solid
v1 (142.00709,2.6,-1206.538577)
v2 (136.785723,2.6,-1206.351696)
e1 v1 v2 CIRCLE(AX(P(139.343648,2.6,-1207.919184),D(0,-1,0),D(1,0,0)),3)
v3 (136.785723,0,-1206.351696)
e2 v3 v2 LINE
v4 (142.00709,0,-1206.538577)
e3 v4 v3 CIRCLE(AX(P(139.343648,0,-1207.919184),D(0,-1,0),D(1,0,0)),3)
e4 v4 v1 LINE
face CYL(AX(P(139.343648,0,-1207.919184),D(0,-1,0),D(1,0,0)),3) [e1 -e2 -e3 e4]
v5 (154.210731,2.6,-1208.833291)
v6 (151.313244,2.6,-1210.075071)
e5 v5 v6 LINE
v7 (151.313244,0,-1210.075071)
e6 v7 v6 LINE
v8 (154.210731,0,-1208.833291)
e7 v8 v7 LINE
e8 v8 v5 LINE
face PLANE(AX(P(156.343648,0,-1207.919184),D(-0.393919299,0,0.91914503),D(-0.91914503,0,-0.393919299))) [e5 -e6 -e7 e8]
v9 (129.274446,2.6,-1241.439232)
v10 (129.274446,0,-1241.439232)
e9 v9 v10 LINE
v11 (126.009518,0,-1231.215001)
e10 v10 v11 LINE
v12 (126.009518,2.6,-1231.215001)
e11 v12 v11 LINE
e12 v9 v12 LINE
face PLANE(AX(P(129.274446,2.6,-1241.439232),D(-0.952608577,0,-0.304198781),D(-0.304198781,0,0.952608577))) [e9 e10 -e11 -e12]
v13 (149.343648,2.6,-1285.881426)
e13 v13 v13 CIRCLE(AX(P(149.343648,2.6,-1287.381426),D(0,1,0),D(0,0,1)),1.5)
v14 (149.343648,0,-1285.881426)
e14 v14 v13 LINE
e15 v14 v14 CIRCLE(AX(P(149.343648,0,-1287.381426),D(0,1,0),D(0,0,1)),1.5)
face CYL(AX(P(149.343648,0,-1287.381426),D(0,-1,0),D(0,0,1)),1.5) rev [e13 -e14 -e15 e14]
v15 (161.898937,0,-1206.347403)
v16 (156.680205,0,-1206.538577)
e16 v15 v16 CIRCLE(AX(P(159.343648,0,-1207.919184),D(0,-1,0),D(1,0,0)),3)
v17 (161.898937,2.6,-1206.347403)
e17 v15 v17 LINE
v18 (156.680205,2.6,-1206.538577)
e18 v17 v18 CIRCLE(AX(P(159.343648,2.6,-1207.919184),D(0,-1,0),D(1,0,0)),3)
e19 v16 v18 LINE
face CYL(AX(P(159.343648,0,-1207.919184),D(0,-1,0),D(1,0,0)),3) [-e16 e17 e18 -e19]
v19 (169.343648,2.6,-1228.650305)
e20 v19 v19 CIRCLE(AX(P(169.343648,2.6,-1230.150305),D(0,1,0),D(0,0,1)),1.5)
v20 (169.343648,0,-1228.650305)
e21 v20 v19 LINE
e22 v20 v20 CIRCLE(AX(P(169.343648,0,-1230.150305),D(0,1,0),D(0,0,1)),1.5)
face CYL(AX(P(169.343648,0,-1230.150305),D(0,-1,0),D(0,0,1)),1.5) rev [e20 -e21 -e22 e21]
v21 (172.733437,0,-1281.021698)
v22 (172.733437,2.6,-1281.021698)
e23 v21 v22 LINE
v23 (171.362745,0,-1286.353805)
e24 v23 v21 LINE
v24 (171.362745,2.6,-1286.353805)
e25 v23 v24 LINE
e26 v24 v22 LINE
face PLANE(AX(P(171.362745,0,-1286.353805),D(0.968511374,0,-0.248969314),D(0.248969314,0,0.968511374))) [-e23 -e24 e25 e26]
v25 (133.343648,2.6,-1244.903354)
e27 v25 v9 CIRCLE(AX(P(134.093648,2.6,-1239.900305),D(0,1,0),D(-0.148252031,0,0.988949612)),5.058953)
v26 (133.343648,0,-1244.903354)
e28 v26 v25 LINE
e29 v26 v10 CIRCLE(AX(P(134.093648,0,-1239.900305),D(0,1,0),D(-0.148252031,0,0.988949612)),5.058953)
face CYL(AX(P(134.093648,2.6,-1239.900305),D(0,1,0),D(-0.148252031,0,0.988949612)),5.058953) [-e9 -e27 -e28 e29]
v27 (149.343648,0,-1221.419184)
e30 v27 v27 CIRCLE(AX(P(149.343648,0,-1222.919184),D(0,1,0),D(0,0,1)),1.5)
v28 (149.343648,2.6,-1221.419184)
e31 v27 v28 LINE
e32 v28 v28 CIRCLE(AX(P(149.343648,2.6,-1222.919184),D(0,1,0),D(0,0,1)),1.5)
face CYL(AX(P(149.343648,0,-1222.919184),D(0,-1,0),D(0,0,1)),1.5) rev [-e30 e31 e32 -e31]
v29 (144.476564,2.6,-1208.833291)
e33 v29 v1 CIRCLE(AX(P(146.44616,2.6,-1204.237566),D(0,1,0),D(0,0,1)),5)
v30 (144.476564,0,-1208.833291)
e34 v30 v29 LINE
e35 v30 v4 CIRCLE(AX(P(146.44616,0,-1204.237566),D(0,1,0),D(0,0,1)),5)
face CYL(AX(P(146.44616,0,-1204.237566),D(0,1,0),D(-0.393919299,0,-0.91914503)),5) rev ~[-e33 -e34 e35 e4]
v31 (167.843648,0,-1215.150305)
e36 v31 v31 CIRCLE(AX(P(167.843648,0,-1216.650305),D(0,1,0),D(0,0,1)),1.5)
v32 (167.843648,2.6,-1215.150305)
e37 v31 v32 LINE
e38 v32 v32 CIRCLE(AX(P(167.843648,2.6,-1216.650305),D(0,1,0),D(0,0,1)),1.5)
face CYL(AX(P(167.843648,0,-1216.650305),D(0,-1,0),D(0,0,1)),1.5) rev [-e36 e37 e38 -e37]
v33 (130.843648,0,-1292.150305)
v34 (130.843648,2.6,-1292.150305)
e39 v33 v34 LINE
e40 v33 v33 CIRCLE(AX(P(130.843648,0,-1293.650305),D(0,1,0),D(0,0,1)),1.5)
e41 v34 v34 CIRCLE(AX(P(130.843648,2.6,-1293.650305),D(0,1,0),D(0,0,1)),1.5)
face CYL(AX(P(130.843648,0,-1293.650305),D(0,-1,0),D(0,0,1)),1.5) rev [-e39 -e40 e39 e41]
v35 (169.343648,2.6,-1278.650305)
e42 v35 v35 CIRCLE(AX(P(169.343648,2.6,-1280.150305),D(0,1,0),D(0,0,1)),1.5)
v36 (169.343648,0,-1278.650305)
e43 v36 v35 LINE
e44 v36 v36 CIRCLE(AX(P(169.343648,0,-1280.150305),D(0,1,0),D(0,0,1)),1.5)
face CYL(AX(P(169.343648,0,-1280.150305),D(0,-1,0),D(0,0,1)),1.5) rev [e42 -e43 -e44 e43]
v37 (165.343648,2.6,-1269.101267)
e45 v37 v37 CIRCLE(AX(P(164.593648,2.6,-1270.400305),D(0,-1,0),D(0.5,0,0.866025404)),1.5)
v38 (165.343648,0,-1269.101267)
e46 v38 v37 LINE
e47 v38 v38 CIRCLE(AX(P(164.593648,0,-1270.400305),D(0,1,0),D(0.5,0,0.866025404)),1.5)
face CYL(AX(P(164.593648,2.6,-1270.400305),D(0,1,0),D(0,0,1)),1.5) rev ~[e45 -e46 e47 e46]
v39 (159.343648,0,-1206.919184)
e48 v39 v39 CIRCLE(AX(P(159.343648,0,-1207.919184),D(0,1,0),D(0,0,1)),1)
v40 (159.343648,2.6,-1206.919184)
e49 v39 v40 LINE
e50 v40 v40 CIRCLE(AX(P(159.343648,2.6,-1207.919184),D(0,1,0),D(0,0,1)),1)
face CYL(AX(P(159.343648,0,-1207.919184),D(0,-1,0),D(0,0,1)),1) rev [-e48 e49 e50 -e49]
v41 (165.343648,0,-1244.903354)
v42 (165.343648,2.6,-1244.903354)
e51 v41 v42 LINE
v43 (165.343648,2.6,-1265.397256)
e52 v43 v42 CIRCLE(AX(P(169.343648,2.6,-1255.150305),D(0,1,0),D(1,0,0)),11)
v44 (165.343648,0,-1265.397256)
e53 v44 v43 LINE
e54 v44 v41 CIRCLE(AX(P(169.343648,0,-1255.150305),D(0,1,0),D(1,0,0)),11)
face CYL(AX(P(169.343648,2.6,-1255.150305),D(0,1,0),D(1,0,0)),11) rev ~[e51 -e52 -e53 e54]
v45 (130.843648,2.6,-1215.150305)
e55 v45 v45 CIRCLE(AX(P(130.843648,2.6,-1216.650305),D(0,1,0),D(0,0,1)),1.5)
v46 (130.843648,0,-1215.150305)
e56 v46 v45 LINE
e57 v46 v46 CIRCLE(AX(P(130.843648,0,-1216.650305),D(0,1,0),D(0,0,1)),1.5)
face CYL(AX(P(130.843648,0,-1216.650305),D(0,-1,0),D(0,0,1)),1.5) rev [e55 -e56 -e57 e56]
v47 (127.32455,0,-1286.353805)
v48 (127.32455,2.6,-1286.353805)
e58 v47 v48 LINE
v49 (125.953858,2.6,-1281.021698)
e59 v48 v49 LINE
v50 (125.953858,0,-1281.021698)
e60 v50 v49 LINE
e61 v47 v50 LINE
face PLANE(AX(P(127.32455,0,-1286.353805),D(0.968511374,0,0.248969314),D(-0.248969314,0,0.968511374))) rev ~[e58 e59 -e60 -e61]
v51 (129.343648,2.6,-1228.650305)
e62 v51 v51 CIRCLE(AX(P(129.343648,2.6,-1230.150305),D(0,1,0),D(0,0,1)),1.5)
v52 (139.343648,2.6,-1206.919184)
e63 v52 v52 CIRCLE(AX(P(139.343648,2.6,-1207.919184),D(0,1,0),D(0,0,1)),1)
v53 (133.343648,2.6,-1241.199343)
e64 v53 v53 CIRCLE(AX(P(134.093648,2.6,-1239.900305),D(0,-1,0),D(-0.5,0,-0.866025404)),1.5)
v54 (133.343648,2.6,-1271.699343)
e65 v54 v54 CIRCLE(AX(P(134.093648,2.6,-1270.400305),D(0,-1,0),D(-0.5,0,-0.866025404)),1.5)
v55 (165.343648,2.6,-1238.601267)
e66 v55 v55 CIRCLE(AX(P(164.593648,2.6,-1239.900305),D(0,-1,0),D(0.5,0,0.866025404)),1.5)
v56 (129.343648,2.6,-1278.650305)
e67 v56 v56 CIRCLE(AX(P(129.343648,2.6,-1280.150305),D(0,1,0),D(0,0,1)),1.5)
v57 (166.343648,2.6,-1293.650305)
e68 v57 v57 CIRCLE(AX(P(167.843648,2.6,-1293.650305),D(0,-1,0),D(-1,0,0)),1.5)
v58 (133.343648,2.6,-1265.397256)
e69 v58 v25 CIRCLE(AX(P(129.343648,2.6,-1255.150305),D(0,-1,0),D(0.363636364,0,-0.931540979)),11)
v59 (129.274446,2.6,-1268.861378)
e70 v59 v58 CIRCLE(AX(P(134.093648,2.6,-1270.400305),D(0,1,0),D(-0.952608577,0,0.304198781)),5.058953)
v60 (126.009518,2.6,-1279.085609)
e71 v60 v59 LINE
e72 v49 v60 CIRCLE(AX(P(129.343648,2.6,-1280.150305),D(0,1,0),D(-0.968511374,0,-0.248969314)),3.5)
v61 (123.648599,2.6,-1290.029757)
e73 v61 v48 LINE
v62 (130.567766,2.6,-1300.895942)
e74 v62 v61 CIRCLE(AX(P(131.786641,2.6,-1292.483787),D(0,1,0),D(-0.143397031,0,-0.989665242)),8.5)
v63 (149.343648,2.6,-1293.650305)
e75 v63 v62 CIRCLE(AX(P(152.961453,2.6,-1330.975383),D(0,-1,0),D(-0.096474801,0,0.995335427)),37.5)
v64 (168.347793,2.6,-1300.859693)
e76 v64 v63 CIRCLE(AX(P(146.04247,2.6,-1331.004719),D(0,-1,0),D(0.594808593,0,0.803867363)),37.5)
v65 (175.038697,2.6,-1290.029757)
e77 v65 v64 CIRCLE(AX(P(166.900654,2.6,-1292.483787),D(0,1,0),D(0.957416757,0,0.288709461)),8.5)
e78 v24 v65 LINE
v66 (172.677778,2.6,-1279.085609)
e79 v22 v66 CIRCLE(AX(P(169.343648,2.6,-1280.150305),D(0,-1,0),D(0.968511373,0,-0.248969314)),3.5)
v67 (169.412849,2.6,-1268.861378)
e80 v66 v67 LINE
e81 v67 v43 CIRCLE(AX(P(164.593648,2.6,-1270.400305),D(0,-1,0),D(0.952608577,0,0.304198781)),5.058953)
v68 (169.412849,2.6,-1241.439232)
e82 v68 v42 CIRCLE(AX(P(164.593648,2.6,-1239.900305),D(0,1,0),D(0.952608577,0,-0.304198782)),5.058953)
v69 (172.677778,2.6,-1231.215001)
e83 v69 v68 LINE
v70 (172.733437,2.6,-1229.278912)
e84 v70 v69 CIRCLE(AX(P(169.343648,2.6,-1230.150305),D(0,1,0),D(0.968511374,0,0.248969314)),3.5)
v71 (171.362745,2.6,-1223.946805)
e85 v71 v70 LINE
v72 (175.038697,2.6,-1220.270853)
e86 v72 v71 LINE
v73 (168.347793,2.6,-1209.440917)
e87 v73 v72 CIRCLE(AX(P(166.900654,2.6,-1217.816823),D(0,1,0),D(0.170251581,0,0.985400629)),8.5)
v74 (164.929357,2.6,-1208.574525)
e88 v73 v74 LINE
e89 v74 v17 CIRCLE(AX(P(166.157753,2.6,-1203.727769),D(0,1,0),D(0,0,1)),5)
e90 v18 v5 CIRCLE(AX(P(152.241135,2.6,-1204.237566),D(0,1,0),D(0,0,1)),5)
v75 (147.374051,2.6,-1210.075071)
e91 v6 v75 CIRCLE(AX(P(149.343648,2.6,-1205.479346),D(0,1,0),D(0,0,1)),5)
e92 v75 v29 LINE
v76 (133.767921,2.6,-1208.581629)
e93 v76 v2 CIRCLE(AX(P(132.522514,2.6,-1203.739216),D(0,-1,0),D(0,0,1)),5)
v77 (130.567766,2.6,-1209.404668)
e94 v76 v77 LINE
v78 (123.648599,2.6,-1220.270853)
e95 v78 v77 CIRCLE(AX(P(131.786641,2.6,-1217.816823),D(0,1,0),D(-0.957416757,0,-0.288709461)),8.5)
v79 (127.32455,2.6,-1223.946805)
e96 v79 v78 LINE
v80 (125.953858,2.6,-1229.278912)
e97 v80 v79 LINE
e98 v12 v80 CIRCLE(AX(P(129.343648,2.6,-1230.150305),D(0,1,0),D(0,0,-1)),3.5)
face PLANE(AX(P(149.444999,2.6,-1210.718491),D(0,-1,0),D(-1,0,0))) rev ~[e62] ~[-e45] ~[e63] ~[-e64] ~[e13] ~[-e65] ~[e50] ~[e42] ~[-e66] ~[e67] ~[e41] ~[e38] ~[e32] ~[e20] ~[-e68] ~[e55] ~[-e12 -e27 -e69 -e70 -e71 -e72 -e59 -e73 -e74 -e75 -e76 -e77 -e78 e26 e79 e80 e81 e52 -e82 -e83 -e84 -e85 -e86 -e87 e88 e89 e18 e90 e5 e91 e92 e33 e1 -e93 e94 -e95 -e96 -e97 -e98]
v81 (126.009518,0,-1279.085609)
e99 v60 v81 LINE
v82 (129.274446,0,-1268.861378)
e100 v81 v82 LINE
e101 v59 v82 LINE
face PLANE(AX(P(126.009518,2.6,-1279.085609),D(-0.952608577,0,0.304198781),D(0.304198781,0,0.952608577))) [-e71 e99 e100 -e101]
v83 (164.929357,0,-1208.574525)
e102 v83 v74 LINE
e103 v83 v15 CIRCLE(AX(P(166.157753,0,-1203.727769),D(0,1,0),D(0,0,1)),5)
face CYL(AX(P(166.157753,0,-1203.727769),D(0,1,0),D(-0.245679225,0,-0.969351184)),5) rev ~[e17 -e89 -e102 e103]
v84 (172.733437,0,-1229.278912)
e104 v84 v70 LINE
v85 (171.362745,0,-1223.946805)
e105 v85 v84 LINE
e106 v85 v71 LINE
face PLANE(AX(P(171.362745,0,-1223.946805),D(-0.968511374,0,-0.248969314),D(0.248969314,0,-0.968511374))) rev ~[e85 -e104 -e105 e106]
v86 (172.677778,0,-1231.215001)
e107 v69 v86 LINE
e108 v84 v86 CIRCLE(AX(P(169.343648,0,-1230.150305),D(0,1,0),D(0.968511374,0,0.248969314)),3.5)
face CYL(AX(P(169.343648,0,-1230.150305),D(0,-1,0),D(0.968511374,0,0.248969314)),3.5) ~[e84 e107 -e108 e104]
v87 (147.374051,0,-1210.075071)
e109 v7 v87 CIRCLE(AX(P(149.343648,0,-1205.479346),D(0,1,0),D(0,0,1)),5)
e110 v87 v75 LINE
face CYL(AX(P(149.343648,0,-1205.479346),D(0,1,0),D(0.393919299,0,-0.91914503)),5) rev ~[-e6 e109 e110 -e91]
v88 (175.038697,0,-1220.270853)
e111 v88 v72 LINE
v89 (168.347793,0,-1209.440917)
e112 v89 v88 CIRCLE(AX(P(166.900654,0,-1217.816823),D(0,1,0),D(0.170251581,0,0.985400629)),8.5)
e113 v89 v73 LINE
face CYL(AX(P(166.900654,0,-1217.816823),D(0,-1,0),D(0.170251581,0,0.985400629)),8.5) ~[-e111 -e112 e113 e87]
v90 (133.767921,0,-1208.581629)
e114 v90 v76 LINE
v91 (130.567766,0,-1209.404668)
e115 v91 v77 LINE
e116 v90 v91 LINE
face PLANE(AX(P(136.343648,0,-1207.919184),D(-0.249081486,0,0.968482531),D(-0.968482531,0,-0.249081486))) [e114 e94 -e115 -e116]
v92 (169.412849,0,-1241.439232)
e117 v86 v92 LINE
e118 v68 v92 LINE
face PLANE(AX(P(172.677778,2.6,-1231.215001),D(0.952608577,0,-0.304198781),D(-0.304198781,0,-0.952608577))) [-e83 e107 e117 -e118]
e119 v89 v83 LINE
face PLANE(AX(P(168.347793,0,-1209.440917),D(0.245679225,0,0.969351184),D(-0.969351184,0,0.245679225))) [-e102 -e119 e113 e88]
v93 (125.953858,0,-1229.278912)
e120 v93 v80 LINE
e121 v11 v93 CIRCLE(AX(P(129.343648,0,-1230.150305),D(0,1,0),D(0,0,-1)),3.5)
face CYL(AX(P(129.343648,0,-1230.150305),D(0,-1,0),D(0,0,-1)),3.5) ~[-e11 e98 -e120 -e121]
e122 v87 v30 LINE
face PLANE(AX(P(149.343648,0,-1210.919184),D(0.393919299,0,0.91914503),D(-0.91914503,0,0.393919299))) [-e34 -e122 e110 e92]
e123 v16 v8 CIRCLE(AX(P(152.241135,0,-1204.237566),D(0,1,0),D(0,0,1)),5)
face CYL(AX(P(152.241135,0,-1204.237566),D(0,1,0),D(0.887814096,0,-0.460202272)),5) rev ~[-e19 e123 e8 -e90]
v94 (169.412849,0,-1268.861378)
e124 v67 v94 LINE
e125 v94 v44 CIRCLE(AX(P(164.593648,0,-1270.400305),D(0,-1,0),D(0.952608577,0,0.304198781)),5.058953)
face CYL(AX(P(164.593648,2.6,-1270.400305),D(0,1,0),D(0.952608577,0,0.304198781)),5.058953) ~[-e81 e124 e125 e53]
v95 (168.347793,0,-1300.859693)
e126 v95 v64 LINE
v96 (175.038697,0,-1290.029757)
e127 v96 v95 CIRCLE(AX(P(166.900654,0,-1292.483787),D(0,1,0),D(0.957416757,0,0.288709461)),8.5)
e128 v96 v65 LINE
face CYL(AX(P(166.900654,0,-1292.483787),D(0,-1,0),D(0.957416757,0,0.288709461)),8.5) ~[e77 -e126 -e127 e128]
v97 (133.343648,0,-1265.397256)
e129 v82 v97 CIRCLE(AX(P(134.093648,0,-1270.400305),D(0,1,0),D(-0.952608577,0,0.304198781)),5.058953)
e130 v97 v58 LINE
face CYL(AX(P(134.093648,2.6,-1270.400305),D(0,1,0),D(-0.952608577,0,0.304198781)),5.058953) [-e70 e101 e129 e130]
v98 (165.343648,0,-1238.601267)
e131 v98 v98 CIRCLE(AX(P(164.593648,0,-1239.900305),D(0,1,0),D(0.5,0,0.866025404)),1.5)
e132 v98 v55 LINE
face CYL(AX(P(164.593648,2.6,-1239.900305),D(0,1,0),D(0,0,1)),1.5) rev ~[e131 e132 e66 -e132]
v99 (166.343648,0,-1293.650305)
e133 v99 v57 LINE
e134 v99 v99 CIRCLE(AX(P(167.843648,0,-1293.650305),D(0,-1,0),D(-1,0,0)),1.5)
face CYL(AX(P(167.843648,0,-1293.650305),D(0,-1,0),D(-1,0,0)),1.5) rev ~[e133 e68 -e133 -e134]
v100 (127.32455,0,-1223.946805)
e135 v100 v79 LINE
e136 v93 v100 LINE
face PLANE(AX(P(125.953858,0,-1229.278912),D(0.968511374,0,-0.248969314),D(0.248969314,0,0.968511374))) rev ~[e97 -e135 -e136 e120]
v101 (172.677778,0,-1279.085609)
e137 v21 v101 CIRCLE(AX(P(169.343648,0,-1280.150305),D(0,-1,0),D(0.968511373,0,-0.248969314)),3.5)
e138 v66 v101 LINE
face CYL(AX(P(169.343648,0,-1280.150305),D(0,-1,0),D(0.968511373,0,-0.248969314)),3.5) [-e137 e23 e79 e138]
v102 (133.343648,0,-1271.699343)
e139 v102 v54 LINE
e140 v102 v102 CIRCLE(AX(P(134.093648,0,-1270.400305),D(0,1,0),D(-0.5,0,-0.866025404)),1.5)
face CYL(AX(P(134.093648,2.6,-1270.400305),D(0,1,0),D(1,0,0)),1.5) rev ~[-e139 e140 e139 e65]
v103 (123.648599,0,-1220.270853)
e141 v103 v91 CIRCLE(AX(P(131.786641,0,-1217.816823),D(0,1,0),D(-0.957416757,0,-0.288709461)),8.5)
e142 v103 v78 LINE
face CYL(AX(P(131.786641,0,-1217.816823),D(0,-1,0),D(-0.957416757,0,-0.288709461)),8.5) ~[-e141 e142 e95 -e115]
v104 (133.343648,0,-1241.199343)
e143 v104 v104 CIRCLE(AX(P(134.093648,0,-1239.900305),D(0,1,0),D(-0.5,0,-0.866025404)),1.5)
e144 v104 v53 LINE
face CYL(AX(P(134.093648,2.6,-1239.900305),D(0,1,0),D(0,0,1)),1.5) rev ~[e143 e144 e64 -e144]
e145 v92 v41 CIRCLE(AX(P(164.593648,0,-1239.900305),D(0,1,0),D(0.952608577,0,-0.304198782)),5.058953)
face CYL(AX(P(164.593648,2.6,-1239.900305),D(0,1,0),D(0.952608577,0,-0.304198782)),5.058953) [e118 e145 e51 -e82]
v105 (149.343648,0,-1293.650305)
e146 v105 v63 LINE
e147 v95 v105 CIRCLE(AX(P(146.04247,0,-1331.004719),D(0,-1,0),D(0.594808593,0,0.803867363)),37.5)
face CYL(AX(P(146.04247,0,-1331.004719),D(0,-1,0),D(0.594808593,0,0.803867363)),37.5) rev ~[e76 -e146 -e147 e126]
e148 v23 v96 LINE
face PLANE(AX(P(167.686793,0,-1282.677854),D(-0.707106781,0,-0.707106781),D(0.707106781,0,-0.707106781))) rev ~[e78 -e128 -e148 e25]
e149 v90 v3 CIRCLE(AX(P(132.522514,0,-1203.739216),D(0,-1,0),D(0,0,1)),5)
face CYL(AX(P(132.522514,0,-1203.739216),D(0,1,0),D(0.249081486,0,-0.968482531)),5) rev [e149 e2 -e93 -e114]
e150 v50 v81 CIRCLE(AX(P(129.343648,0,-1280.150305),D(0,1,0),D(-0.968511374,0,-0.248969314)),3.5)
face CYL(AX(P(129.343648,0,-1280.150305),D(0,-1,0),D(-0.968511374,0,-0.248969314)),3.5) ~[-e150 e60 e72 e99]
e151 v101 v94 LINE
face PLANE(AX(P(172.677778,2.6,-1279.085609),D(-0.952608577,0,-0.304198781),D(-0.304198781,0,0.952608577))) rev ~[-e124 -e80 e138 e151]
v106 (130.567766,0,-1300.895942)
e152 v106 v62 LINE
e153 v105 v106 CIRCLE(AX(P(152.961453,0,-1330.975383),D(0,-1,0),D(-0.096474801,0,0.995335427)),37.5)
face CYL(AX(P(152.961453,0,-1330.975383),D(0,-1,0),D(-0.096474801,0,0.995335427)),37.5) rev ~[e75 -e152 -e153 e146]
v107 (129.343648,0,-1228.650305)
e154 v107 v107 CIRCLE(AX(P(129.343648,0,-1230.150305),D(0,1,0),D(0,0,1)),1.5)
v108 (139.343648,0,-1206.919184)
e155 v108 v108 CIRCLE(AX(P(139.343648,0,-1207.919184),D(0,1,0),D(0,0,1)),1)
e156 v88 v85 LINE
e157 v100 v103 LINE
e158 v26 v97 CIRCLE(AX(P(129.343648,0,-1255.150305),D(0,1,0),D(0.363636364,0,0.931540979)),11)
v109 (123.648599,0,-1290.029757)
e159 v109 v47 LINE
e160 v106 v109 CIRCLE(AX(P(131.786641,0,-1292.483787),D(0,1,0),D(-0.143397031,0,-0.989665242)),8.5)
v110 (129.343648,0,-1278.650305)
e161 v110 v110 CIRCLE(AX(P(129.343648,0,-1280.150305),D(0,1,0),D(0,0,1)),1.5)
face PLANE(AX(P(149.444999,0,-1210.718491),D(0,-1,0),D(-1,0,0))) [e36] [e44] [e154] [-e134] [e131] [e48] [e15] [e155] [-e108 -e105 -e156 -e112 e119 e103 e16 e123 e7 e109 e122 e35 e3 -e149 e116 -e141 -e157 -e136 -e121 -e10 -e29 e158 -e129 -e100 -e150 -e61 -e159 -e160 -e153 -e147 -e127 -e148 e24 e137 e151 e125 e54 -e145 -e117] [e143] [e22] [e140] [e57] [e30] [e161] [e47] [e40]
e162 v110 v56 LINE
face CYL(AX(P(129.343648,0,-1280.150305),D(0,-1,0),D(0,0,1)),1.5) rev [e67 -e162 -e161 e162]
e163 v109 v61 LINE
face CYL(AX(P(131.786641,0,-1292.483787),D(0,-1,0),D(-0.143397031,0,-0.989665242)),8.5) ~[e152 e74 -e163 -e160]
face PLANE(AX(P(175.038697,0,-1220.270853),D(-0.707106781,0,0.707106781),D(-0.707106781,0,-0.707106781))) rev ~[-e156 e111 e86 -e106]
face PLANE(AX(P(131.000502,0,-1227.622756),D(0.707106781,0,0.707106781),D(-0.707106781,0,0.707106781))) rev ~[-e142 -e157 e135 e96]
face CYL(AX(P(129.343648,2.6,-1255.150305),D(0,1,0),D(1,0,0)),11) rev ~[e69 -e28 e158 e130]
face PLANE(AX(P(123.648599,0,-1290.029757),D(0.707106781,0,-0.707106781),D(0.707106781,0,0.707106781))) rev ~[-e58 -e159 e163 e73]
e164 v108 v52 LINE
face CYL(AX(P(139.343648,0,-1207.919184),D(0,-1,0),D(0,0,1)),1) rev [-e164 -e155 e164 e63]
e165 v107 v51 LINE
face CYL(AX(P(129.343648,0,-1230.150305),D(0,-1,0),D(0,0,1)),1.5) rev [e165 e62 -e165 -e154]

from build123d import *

# Parameters (mm, degrees)
SKETCH1_R           = 1.5
BOSS_EXTRUDE1_DEPTH = 2.6
BOSS_EXTRUDE2_START = -2.6
SKETCH2_R           = 1.5
BOSS_EXTRUDE2_DEPTH = 2.6
SKETCH3_R           = 1.5
SKETCH3_R_2         = 11
CUT_EXTRUDE2_DEPTH  = 2.6
SKETCH4_R           = 1.5
BOSS_EXTRUDE3_DEPTH = 2.6
BOSS_EXTRUDE5_START = -2.6
SKETCH5_R           = 1
BOSS_EXTRUDE5_DEPTH = 2.6
FILLET1_R           = 5


with BuildPart() as part:
    # Sketch1 → Boss-Extrude1 (new body)
    with BuildSketch(Plane(origin=(0, 0, 0), x_dir=(1, 0, 0), z_dir=(0, 1, 0))):
        with BuildLine():
            ThreePointArc((168.347792712, 1300.859692621), (159.343486253, 1295.942873675), (149.343647654, 1293.65030495))
            ThreePointArc((149.343647654, 1293.65030495), (139.460555114, 1295.990018463), (130.567766275, 1300.895941835))
            ThreePointArc((130.567766275, 1300.895941835), (124.616810573, 1297.0492589), (123.648598599, 1290.029756856))
            Line((123.648598599, 1290.029756856), (131.000501903, 1282.677853551))
            ThreePointArc((131.000501903, 1282.677853551), (132.734683914, 1280.082466761), (133.343647654, 1277.020999302))
            Line((133.343647654, 1277.020999302), (133.343647654, 1272.65030495))
            Line((133.343647654, 1272.65030495), (133.343647654, 1269.65030495))
            Line((133.343647654, 1269.65030495), (133.343647654, 1240.65030495))
            Line((133.343647654, 1240.65030495), (133.343647654, 1237.65030495))
            Line((133.343647654, 1237.65030495), (133.343647654, 1233.279610599))
            ThreePointArc((133.343647654, 1233.279610599), (132.734683914, 1230.21814314), (131.000501903, 1227.622756349))
            Line((131.000501903, 1227.622756349), (123.648598599, 1220.270853045))
            ThreePointArc((123.648598599, 1220.270853045), (124.616810573, 1213.251351001), (130.567766275, 1209.404668065))
            ThreePointArc((130.567766275, 1209.404668065), (139.460555114, 1214.310591438), (149.343647654, 1216.65030495))
            ThreePointArc((149.343647654, 1216.65030495), (159.343486253, 1214.357736226), (168.347792712, 1209.44091728))
            ThreePointArc((168.347792712, 1209.44091728), (174.131892083, 1213.349250607), (175.038696709, 1220.270853045))
            Line((175.038696709, 1220.270853045), (167.686793404, 1227.622756349))
            ThreePointArc((167.686793404, 1227.622756349), (165.952611394, 1230.21814314), (165.343647654, 1233.279610599))
            Line((165.343647654, 1233.279610599), (165.343647654, 1237.65030495))
            Line((165.343647654, 1237.65030495), (165.343647654, 1240.65030495))
            Line((165.343647654, 1240.65030495), (165.343647654, 1269.65030495))
            Line((165.343647654, 1269.65030495), (165.343647654, 1272.65030495))
            Line((165.343647654, 1272.65030495), (165.343647654, 1277.020999302))
            ThreePointArc((165.343647654, 1277.020999302), (165.952611394, 1280.082466761), (167.686793404, 1282.677853551))
            Line((167.686793404, 1282.677853551), (175.038696709, 1290.029756856))
            ThreePointArc((175.038696709, 1290.029756856), (174.131892083, 1296.951359294), (168.347792712, 1300.859692621))
        make_face()
        with Locations(Location((130.843647654, 1216.65030495, 0), (0, 0, 270))):
            Circle(SKETCH1_R, mode=Mode.SUBTRACT)
        with Locations(Location((149.343647654, 1222.919184261, 0), (0, 0, 270))):
            Circle(SKETCH1_R, mode=Mode.SUBTRACT)
        with Locations(Location((167.843647654, 1216.65030495, 0), (0, 0, 270))):
            Circle(SKETCH1_R, mode=Mode.SUBTRACT)
        with Locations(Location((130.843647654, 1293.65030495, 0), (0, 0, 270))):
            Circle(SKETCH1_R, mode=Mode.SUBTRACT)
        with Locations(Location((149.343647654, 1287.38142564, 0), (0, 0, 270))):
            Circle(SKETCH1_R, mode=Mode.SUBTRACT)
        with BuildLine():
            ThreePointArc((169.343647654, 1293.65030495), (167.843647654, 1292.15030495), (166.343647654, 1293.65030495))
            ThreePointArc((166.343647654, 1293.65030495), (167.843647654, 1295.15030495), (169.343647654, 1293.65030495))
        make_face(mode=Mode.SUBTRACT)
    extrude(amount=BOSS_EXTRUDE1_DEPTH)

    # Sketch2 → Boss-Extrude2 (add)
    # profile 1 of 4: a face of its own
    with BuildSketch(Plane(origin=(0, 2.6, 0), x_dir=(1, 0, 0), z_dir=(0, 1, 0)).offset(BOSS_EXTRUDE2_START)):
        with BuildLine():
            Line((171.362745056, 1223.946804697), (172.733437461, 1229.278912352))
            ThreePointArc((172.733437461, 1229.278912352), (172.109499611, 1232.295080685), (169.343647654, 1233.65030495))
            Line((169.343647654, 1233.65030495), (165.343647654, 1233.279610599))
            ThreePointArc((165.343647654, 1233.279610599), (165.952611394, 1230.21814314), (167.686793404, 1227.622756349))
            Line((167.686793404, 1227.622756349), (171.362745056, 1223.946804697))
        make_face()
        with Locations(Location((169.343647654, 1230.15030495, 0), (0, 0, 270))):
            Circle(SKETCH2_R, mode=Mode.SUBTRACT)
    # profile 2 of 4: a face of its own
    with BuildSketch(Plane(origin=(0, 2.6, 0), x_dir=(1, 0, 0), z_dir=(0, 1, 0)).offset(BOSS_EXTRUDE2_START)):
        with BuildLine():
            Line((127.324550251, 1223.946804697), (131.000501903, 1227.622756349))
            ThreePointArc((131.000501903, 1227.622756349), (132.734683914, 1230.21814314), (133.343647654, 1233.279610599))
            Line((133.343647654, 1233.279610599), (129.343647654, 1233.65030495))
            ThreePointArc((129.343647654, 1233.65030495), (126.577795697, 1232.295080685), (125.953857846, 1229.278912352))
            Line((125.953857846, 1229.278912352), (127.324550251, 1223.946804697))
        make_face()
        with Locations(Location((129.343647654, 1230.15030495, 0), (0, 0, 270))):
            Circle(SKETCH2_R, mode=Mode.SUBTRACT)
    # profile 3 of 4: a face of its own
    with BuildSketch(Plane(origin=(0, 2.6, 0), x_dir=(1, 0, 0), z_dir=(0, 1, 0)).offset(BOSS_EXTRUDE2_START)):
        with BuildLine():
            Line((171.362745056, 1286.353805203), (172.733437461, 1281.021697549))
            ThreePointArc((172.733437461, 1281.021697549), (172.109499611, 1278.005529215), (169.343647654, 1276.65030495))
            Line((169.343647654, 1276.65030495), (165.343647654, 1277.020999302))
            ThreePointArc((165.343647654, 1277.020999302), (165.952611394, 1280.082466761), (167.686793404, 1282.677853551))
            Line((167.686793404, 1282.677853551), (171.362745056, 1286.353805203))
        make_face()
        with Locations(Location((169.343647654, 1280.15030495, 0), (0, 0, 270))):
            Circle(SKETCH2_R, mode=Mode.SUBTRACT)
    # profile 4 of 4: a face of its own
    with BuildSketch(Plane(origin=(0, 2.6, 0), x_dir=(1, 0, 0), z_dir=(0, 1, 0)).offset(BOSS_EXTRUDE2_START)):
        with BuildLine():
            Line((127.324550251, 1286.353805203), (125.953857846, 1281.021697549))
            ThreePointArc((125.953857846, 1281.021697549), (126.577795697, 1278.005529215), (129.343647654, 1276.65030495))
            Line((129.343647654, 1276.65030495), (133.343647654, 1277.020999302))
            ThreePointArc((133.343647654, 1277.020999302), (132.734683914, 1280.082466761), (131.000501903, 1282.677853551))
            Line((131.000501903, 1282.677853551), (127.324550251, 1286.353805203))
        make_face()
        with Locations(Location((129.343647654, 1280.15030495, 0), (0, 0, 270))):
            Circle(SKETCH2_R, mode=Mode.SUBTRACT)
    extrude(amount=BOSS_EXTRUDE2_DEPTH)

    # Sketch3 → Cut-Extrude2 (cut)
    with BuildSketch(Plane(origin=(0, 2.6, 0), x_dir=(1, 0, 0), z_dir=(0, 1, 0))):
        with Locations((134.093647654, 1239.90030495)):
            Circle(SKETCH3_R)
        with Locations((164.593647654, 1239.90030495)):
            Circle(SKETCH3_R)
        with Locations((164.593647654, 1270.40030495)):
            Circle(SKETCH3_R)
        with Locations((134.093647654, 1270.40030495)):
            Circle(SKETCH3_R)
        with Locations((169.343647654, 1255.15030495)):
            Circle(SKETCH3_R_2)
        with Locations((129.343647654, 1255.15030495)):
            Circle(SKETCH3_R_2)
    extrude(amount=-CUT_EXTRUDE2_DEPTH, mode=Mode.SUBTRACT)

    # Sketch4 → Boss-Extrude3 (add)
    # profile 1 of 4: a face of its own
    with BuildSketch(Plane(origin=(0, 2.6, 0), x_dir=(1, 0, 0), z_dir=(0, 1, 0))):
        with BuildLine():
            Line((172.677777674, 1231.215000685), (169.412849314, 1241.439232174))
            ThreePointArc((169.412849314, 1241.439232174), (160.29790956, 1242.572314655), (165.343647654, 1234.897255716))
            Line((165.343647654, 1234.897255716), (165.343647654, 1233.279610599))
            Line((165.343647654, 1233.279610599), (169.343647654, 1233.65030495))
            ThreePointArc((169.343647654, 1233.65030495), (171.408056156, 1232.976648443), (172.677777674, 1231.215000685))
        make_face()
        with Locations(Location((164.593647654, 1239.90030495, 0), (0, 0, 270))):
            Circle(SKETCH4_R, mode=Mode.SUBTRACT)
    # profile 2 of 4: a face of its own
    with BuildSketch(Plane(origin=(0, 2.6, 0), x_dir=(1, 0, 0), z_dir=(0, 1, 0))):
        with BuildLine():
            Line((129.343647654, 1233.65030495), (133.343647654, 1233.279610599))
            Line((133.343647654, 1233.279610599), (133.343647654, 1234.897255716))
            ThreePointArc((133.343647654, 1234.897255716), (138.389385748, 1242.572314655), (129.274445994, 1241.439232174))
            Line((129.274445994, 1241.439232174), (126.009517634, 1231.215000685))
            ThreePointArc((126.009517634, 1231.215000685), (127.279239152, 1232.976648443), (129.343647654, 1233.65030495))
        make_face()
        with Locations(Location((134.093647654, 1239.90030495, 0), (0, 0, 270))):
            Circle(SKETCH4_R, mode=Mode.SUBTRACT)
    # profile 3 of 4: a face of its own
    with BuildSketch(Plane(origin=(0, 2.6, 0), x_dir=(1, 0, 0), z_dir=(0, 1, 0))):
        with BuildLine():
            Line((172.677777674, 1279.085609215), (169.412849314, 1268.861377727))
            ThreePointArc((169.412849314, 1268.861377727), (160.29790956, 1267.728295245), (165.343647654, 1275.403354184))
            Line((165.343647654, 1275.403354184), (165.343647654, 1277.020999302))
            Line((165.343647654, 1277.020999302), (169.343647654, 1276.65030495))
            ThreePointArc((169.343647654, 1276.65030495), (171.408056156, 1277.323961458), (172.677777674, 1279.085609215))
        make_face()
        with Locations(Location((164.593647654, 1270.40030495, 0), (0, 0, 270))):
            Circle(SKETCH4_R, mode=Mode.SUBTRACT)
    # profile 4 of 4: a face of its own
    with BuildSketch(Plane(origin=(0, 2.6, 0), x_dir=(1, 0, 0), z_dir=(0, 1, 0))):
        with BuildLine():
            Line((126.009517634, 1279.085609215), (129.274445994, 1268.861377727))
            ThreePointArc((129.274445994, 1268.861377727), (138.389385748, 1267.728295245), (133.343647654, 1275.403354184))
            Line((133.343647654, 1275.403354184), (133.343647654, 1277.020999302))
            Line((133.343647654, 1277.020999302), (129.343647654, 1276.65030495))
            ThreePointArc((129.343647654, 1276.65030495), (127.279239152, 1277.323961458), (126.009517634, 1279.085609215))
        make_face()
        with Locations(Location((134.093647654, 1270.40030495, 0), (0, 0, 270))):
            Circle(SKETCH4_R, mode=Mode.SUBTRACT)
    extrude(amount=-BOSS_EXTRUDE3_DEPTH)

    # Sketch5 → Boss-Extrude5 (add)
    with BuildSketch(Plane(origin=(0, 2.6, 0), x_dir=(1, 0, 0), z_dir=(0, 1, 0)).offset(BOSS_EXTRUDE5_START)):
        with BuildLine():
            Line((168.347792712, 1209.44091728), (162.343647654, 1207.919184261))
            ThreePointArc((162.343647654, 1207.919184261), (159.343647654, 1204.919184261), (156.343647654, 1207.919184261))
            Line((156.343647654, 1207.919184261), (149.343647654, 1210.919184261))
            Line((149.343647654, 1210.919184261), (142.343647654, 1207.919184261))
            ThreePointArc((142.343647654, 1207.919184261), (139.343647654, 1204.919184261), (136.343647654, 1207.919184261))
            Line((136.343647654, 1207.919184261), (130.567766275, 1209.404668065))
            ThreePointArc((130.567766275, 1209.404668065), (139.460555114, 1214.310591438), (149.343647654, 1216.65030495))
            ThreePointArc((149.343647654, 1216.65030495), (159.343486253, 1214.357736226), (168.347792712, 1209.44091728))
        make_face()
        with Locations(Location((139.343647654, 1207.919184261, 0), (0, 0, 270))):
            Circle(SKETCH5_R, mode=Mode.SUBTRACT)
        with Locations(Location((159.343647654, 1207.919184261, 0), (0, 0, 270))):
            Circle(SKETCH5_R, mode=Mode.SUBTRACT)
    extrude(amount=BOSS_EXTRUDE5_DEPTH)

    # Fillet1
    fillet1_edges = [part.edges().sort_by_distance(p)[0] for p in [
        (136.343647654, 1.3, -1207.919184261),
        (142.343647654, 1.3, -1207.919184261),
        (149.343647654, 1.3, -1210.919184261),
        (156.343647654, 1.3, -1207.919184261),
        (162.343647654, 1.3, -1207.919184261),
    ]]
    fillet(fillet1_edges, radius=FILLET1_R)


solid = part.part
